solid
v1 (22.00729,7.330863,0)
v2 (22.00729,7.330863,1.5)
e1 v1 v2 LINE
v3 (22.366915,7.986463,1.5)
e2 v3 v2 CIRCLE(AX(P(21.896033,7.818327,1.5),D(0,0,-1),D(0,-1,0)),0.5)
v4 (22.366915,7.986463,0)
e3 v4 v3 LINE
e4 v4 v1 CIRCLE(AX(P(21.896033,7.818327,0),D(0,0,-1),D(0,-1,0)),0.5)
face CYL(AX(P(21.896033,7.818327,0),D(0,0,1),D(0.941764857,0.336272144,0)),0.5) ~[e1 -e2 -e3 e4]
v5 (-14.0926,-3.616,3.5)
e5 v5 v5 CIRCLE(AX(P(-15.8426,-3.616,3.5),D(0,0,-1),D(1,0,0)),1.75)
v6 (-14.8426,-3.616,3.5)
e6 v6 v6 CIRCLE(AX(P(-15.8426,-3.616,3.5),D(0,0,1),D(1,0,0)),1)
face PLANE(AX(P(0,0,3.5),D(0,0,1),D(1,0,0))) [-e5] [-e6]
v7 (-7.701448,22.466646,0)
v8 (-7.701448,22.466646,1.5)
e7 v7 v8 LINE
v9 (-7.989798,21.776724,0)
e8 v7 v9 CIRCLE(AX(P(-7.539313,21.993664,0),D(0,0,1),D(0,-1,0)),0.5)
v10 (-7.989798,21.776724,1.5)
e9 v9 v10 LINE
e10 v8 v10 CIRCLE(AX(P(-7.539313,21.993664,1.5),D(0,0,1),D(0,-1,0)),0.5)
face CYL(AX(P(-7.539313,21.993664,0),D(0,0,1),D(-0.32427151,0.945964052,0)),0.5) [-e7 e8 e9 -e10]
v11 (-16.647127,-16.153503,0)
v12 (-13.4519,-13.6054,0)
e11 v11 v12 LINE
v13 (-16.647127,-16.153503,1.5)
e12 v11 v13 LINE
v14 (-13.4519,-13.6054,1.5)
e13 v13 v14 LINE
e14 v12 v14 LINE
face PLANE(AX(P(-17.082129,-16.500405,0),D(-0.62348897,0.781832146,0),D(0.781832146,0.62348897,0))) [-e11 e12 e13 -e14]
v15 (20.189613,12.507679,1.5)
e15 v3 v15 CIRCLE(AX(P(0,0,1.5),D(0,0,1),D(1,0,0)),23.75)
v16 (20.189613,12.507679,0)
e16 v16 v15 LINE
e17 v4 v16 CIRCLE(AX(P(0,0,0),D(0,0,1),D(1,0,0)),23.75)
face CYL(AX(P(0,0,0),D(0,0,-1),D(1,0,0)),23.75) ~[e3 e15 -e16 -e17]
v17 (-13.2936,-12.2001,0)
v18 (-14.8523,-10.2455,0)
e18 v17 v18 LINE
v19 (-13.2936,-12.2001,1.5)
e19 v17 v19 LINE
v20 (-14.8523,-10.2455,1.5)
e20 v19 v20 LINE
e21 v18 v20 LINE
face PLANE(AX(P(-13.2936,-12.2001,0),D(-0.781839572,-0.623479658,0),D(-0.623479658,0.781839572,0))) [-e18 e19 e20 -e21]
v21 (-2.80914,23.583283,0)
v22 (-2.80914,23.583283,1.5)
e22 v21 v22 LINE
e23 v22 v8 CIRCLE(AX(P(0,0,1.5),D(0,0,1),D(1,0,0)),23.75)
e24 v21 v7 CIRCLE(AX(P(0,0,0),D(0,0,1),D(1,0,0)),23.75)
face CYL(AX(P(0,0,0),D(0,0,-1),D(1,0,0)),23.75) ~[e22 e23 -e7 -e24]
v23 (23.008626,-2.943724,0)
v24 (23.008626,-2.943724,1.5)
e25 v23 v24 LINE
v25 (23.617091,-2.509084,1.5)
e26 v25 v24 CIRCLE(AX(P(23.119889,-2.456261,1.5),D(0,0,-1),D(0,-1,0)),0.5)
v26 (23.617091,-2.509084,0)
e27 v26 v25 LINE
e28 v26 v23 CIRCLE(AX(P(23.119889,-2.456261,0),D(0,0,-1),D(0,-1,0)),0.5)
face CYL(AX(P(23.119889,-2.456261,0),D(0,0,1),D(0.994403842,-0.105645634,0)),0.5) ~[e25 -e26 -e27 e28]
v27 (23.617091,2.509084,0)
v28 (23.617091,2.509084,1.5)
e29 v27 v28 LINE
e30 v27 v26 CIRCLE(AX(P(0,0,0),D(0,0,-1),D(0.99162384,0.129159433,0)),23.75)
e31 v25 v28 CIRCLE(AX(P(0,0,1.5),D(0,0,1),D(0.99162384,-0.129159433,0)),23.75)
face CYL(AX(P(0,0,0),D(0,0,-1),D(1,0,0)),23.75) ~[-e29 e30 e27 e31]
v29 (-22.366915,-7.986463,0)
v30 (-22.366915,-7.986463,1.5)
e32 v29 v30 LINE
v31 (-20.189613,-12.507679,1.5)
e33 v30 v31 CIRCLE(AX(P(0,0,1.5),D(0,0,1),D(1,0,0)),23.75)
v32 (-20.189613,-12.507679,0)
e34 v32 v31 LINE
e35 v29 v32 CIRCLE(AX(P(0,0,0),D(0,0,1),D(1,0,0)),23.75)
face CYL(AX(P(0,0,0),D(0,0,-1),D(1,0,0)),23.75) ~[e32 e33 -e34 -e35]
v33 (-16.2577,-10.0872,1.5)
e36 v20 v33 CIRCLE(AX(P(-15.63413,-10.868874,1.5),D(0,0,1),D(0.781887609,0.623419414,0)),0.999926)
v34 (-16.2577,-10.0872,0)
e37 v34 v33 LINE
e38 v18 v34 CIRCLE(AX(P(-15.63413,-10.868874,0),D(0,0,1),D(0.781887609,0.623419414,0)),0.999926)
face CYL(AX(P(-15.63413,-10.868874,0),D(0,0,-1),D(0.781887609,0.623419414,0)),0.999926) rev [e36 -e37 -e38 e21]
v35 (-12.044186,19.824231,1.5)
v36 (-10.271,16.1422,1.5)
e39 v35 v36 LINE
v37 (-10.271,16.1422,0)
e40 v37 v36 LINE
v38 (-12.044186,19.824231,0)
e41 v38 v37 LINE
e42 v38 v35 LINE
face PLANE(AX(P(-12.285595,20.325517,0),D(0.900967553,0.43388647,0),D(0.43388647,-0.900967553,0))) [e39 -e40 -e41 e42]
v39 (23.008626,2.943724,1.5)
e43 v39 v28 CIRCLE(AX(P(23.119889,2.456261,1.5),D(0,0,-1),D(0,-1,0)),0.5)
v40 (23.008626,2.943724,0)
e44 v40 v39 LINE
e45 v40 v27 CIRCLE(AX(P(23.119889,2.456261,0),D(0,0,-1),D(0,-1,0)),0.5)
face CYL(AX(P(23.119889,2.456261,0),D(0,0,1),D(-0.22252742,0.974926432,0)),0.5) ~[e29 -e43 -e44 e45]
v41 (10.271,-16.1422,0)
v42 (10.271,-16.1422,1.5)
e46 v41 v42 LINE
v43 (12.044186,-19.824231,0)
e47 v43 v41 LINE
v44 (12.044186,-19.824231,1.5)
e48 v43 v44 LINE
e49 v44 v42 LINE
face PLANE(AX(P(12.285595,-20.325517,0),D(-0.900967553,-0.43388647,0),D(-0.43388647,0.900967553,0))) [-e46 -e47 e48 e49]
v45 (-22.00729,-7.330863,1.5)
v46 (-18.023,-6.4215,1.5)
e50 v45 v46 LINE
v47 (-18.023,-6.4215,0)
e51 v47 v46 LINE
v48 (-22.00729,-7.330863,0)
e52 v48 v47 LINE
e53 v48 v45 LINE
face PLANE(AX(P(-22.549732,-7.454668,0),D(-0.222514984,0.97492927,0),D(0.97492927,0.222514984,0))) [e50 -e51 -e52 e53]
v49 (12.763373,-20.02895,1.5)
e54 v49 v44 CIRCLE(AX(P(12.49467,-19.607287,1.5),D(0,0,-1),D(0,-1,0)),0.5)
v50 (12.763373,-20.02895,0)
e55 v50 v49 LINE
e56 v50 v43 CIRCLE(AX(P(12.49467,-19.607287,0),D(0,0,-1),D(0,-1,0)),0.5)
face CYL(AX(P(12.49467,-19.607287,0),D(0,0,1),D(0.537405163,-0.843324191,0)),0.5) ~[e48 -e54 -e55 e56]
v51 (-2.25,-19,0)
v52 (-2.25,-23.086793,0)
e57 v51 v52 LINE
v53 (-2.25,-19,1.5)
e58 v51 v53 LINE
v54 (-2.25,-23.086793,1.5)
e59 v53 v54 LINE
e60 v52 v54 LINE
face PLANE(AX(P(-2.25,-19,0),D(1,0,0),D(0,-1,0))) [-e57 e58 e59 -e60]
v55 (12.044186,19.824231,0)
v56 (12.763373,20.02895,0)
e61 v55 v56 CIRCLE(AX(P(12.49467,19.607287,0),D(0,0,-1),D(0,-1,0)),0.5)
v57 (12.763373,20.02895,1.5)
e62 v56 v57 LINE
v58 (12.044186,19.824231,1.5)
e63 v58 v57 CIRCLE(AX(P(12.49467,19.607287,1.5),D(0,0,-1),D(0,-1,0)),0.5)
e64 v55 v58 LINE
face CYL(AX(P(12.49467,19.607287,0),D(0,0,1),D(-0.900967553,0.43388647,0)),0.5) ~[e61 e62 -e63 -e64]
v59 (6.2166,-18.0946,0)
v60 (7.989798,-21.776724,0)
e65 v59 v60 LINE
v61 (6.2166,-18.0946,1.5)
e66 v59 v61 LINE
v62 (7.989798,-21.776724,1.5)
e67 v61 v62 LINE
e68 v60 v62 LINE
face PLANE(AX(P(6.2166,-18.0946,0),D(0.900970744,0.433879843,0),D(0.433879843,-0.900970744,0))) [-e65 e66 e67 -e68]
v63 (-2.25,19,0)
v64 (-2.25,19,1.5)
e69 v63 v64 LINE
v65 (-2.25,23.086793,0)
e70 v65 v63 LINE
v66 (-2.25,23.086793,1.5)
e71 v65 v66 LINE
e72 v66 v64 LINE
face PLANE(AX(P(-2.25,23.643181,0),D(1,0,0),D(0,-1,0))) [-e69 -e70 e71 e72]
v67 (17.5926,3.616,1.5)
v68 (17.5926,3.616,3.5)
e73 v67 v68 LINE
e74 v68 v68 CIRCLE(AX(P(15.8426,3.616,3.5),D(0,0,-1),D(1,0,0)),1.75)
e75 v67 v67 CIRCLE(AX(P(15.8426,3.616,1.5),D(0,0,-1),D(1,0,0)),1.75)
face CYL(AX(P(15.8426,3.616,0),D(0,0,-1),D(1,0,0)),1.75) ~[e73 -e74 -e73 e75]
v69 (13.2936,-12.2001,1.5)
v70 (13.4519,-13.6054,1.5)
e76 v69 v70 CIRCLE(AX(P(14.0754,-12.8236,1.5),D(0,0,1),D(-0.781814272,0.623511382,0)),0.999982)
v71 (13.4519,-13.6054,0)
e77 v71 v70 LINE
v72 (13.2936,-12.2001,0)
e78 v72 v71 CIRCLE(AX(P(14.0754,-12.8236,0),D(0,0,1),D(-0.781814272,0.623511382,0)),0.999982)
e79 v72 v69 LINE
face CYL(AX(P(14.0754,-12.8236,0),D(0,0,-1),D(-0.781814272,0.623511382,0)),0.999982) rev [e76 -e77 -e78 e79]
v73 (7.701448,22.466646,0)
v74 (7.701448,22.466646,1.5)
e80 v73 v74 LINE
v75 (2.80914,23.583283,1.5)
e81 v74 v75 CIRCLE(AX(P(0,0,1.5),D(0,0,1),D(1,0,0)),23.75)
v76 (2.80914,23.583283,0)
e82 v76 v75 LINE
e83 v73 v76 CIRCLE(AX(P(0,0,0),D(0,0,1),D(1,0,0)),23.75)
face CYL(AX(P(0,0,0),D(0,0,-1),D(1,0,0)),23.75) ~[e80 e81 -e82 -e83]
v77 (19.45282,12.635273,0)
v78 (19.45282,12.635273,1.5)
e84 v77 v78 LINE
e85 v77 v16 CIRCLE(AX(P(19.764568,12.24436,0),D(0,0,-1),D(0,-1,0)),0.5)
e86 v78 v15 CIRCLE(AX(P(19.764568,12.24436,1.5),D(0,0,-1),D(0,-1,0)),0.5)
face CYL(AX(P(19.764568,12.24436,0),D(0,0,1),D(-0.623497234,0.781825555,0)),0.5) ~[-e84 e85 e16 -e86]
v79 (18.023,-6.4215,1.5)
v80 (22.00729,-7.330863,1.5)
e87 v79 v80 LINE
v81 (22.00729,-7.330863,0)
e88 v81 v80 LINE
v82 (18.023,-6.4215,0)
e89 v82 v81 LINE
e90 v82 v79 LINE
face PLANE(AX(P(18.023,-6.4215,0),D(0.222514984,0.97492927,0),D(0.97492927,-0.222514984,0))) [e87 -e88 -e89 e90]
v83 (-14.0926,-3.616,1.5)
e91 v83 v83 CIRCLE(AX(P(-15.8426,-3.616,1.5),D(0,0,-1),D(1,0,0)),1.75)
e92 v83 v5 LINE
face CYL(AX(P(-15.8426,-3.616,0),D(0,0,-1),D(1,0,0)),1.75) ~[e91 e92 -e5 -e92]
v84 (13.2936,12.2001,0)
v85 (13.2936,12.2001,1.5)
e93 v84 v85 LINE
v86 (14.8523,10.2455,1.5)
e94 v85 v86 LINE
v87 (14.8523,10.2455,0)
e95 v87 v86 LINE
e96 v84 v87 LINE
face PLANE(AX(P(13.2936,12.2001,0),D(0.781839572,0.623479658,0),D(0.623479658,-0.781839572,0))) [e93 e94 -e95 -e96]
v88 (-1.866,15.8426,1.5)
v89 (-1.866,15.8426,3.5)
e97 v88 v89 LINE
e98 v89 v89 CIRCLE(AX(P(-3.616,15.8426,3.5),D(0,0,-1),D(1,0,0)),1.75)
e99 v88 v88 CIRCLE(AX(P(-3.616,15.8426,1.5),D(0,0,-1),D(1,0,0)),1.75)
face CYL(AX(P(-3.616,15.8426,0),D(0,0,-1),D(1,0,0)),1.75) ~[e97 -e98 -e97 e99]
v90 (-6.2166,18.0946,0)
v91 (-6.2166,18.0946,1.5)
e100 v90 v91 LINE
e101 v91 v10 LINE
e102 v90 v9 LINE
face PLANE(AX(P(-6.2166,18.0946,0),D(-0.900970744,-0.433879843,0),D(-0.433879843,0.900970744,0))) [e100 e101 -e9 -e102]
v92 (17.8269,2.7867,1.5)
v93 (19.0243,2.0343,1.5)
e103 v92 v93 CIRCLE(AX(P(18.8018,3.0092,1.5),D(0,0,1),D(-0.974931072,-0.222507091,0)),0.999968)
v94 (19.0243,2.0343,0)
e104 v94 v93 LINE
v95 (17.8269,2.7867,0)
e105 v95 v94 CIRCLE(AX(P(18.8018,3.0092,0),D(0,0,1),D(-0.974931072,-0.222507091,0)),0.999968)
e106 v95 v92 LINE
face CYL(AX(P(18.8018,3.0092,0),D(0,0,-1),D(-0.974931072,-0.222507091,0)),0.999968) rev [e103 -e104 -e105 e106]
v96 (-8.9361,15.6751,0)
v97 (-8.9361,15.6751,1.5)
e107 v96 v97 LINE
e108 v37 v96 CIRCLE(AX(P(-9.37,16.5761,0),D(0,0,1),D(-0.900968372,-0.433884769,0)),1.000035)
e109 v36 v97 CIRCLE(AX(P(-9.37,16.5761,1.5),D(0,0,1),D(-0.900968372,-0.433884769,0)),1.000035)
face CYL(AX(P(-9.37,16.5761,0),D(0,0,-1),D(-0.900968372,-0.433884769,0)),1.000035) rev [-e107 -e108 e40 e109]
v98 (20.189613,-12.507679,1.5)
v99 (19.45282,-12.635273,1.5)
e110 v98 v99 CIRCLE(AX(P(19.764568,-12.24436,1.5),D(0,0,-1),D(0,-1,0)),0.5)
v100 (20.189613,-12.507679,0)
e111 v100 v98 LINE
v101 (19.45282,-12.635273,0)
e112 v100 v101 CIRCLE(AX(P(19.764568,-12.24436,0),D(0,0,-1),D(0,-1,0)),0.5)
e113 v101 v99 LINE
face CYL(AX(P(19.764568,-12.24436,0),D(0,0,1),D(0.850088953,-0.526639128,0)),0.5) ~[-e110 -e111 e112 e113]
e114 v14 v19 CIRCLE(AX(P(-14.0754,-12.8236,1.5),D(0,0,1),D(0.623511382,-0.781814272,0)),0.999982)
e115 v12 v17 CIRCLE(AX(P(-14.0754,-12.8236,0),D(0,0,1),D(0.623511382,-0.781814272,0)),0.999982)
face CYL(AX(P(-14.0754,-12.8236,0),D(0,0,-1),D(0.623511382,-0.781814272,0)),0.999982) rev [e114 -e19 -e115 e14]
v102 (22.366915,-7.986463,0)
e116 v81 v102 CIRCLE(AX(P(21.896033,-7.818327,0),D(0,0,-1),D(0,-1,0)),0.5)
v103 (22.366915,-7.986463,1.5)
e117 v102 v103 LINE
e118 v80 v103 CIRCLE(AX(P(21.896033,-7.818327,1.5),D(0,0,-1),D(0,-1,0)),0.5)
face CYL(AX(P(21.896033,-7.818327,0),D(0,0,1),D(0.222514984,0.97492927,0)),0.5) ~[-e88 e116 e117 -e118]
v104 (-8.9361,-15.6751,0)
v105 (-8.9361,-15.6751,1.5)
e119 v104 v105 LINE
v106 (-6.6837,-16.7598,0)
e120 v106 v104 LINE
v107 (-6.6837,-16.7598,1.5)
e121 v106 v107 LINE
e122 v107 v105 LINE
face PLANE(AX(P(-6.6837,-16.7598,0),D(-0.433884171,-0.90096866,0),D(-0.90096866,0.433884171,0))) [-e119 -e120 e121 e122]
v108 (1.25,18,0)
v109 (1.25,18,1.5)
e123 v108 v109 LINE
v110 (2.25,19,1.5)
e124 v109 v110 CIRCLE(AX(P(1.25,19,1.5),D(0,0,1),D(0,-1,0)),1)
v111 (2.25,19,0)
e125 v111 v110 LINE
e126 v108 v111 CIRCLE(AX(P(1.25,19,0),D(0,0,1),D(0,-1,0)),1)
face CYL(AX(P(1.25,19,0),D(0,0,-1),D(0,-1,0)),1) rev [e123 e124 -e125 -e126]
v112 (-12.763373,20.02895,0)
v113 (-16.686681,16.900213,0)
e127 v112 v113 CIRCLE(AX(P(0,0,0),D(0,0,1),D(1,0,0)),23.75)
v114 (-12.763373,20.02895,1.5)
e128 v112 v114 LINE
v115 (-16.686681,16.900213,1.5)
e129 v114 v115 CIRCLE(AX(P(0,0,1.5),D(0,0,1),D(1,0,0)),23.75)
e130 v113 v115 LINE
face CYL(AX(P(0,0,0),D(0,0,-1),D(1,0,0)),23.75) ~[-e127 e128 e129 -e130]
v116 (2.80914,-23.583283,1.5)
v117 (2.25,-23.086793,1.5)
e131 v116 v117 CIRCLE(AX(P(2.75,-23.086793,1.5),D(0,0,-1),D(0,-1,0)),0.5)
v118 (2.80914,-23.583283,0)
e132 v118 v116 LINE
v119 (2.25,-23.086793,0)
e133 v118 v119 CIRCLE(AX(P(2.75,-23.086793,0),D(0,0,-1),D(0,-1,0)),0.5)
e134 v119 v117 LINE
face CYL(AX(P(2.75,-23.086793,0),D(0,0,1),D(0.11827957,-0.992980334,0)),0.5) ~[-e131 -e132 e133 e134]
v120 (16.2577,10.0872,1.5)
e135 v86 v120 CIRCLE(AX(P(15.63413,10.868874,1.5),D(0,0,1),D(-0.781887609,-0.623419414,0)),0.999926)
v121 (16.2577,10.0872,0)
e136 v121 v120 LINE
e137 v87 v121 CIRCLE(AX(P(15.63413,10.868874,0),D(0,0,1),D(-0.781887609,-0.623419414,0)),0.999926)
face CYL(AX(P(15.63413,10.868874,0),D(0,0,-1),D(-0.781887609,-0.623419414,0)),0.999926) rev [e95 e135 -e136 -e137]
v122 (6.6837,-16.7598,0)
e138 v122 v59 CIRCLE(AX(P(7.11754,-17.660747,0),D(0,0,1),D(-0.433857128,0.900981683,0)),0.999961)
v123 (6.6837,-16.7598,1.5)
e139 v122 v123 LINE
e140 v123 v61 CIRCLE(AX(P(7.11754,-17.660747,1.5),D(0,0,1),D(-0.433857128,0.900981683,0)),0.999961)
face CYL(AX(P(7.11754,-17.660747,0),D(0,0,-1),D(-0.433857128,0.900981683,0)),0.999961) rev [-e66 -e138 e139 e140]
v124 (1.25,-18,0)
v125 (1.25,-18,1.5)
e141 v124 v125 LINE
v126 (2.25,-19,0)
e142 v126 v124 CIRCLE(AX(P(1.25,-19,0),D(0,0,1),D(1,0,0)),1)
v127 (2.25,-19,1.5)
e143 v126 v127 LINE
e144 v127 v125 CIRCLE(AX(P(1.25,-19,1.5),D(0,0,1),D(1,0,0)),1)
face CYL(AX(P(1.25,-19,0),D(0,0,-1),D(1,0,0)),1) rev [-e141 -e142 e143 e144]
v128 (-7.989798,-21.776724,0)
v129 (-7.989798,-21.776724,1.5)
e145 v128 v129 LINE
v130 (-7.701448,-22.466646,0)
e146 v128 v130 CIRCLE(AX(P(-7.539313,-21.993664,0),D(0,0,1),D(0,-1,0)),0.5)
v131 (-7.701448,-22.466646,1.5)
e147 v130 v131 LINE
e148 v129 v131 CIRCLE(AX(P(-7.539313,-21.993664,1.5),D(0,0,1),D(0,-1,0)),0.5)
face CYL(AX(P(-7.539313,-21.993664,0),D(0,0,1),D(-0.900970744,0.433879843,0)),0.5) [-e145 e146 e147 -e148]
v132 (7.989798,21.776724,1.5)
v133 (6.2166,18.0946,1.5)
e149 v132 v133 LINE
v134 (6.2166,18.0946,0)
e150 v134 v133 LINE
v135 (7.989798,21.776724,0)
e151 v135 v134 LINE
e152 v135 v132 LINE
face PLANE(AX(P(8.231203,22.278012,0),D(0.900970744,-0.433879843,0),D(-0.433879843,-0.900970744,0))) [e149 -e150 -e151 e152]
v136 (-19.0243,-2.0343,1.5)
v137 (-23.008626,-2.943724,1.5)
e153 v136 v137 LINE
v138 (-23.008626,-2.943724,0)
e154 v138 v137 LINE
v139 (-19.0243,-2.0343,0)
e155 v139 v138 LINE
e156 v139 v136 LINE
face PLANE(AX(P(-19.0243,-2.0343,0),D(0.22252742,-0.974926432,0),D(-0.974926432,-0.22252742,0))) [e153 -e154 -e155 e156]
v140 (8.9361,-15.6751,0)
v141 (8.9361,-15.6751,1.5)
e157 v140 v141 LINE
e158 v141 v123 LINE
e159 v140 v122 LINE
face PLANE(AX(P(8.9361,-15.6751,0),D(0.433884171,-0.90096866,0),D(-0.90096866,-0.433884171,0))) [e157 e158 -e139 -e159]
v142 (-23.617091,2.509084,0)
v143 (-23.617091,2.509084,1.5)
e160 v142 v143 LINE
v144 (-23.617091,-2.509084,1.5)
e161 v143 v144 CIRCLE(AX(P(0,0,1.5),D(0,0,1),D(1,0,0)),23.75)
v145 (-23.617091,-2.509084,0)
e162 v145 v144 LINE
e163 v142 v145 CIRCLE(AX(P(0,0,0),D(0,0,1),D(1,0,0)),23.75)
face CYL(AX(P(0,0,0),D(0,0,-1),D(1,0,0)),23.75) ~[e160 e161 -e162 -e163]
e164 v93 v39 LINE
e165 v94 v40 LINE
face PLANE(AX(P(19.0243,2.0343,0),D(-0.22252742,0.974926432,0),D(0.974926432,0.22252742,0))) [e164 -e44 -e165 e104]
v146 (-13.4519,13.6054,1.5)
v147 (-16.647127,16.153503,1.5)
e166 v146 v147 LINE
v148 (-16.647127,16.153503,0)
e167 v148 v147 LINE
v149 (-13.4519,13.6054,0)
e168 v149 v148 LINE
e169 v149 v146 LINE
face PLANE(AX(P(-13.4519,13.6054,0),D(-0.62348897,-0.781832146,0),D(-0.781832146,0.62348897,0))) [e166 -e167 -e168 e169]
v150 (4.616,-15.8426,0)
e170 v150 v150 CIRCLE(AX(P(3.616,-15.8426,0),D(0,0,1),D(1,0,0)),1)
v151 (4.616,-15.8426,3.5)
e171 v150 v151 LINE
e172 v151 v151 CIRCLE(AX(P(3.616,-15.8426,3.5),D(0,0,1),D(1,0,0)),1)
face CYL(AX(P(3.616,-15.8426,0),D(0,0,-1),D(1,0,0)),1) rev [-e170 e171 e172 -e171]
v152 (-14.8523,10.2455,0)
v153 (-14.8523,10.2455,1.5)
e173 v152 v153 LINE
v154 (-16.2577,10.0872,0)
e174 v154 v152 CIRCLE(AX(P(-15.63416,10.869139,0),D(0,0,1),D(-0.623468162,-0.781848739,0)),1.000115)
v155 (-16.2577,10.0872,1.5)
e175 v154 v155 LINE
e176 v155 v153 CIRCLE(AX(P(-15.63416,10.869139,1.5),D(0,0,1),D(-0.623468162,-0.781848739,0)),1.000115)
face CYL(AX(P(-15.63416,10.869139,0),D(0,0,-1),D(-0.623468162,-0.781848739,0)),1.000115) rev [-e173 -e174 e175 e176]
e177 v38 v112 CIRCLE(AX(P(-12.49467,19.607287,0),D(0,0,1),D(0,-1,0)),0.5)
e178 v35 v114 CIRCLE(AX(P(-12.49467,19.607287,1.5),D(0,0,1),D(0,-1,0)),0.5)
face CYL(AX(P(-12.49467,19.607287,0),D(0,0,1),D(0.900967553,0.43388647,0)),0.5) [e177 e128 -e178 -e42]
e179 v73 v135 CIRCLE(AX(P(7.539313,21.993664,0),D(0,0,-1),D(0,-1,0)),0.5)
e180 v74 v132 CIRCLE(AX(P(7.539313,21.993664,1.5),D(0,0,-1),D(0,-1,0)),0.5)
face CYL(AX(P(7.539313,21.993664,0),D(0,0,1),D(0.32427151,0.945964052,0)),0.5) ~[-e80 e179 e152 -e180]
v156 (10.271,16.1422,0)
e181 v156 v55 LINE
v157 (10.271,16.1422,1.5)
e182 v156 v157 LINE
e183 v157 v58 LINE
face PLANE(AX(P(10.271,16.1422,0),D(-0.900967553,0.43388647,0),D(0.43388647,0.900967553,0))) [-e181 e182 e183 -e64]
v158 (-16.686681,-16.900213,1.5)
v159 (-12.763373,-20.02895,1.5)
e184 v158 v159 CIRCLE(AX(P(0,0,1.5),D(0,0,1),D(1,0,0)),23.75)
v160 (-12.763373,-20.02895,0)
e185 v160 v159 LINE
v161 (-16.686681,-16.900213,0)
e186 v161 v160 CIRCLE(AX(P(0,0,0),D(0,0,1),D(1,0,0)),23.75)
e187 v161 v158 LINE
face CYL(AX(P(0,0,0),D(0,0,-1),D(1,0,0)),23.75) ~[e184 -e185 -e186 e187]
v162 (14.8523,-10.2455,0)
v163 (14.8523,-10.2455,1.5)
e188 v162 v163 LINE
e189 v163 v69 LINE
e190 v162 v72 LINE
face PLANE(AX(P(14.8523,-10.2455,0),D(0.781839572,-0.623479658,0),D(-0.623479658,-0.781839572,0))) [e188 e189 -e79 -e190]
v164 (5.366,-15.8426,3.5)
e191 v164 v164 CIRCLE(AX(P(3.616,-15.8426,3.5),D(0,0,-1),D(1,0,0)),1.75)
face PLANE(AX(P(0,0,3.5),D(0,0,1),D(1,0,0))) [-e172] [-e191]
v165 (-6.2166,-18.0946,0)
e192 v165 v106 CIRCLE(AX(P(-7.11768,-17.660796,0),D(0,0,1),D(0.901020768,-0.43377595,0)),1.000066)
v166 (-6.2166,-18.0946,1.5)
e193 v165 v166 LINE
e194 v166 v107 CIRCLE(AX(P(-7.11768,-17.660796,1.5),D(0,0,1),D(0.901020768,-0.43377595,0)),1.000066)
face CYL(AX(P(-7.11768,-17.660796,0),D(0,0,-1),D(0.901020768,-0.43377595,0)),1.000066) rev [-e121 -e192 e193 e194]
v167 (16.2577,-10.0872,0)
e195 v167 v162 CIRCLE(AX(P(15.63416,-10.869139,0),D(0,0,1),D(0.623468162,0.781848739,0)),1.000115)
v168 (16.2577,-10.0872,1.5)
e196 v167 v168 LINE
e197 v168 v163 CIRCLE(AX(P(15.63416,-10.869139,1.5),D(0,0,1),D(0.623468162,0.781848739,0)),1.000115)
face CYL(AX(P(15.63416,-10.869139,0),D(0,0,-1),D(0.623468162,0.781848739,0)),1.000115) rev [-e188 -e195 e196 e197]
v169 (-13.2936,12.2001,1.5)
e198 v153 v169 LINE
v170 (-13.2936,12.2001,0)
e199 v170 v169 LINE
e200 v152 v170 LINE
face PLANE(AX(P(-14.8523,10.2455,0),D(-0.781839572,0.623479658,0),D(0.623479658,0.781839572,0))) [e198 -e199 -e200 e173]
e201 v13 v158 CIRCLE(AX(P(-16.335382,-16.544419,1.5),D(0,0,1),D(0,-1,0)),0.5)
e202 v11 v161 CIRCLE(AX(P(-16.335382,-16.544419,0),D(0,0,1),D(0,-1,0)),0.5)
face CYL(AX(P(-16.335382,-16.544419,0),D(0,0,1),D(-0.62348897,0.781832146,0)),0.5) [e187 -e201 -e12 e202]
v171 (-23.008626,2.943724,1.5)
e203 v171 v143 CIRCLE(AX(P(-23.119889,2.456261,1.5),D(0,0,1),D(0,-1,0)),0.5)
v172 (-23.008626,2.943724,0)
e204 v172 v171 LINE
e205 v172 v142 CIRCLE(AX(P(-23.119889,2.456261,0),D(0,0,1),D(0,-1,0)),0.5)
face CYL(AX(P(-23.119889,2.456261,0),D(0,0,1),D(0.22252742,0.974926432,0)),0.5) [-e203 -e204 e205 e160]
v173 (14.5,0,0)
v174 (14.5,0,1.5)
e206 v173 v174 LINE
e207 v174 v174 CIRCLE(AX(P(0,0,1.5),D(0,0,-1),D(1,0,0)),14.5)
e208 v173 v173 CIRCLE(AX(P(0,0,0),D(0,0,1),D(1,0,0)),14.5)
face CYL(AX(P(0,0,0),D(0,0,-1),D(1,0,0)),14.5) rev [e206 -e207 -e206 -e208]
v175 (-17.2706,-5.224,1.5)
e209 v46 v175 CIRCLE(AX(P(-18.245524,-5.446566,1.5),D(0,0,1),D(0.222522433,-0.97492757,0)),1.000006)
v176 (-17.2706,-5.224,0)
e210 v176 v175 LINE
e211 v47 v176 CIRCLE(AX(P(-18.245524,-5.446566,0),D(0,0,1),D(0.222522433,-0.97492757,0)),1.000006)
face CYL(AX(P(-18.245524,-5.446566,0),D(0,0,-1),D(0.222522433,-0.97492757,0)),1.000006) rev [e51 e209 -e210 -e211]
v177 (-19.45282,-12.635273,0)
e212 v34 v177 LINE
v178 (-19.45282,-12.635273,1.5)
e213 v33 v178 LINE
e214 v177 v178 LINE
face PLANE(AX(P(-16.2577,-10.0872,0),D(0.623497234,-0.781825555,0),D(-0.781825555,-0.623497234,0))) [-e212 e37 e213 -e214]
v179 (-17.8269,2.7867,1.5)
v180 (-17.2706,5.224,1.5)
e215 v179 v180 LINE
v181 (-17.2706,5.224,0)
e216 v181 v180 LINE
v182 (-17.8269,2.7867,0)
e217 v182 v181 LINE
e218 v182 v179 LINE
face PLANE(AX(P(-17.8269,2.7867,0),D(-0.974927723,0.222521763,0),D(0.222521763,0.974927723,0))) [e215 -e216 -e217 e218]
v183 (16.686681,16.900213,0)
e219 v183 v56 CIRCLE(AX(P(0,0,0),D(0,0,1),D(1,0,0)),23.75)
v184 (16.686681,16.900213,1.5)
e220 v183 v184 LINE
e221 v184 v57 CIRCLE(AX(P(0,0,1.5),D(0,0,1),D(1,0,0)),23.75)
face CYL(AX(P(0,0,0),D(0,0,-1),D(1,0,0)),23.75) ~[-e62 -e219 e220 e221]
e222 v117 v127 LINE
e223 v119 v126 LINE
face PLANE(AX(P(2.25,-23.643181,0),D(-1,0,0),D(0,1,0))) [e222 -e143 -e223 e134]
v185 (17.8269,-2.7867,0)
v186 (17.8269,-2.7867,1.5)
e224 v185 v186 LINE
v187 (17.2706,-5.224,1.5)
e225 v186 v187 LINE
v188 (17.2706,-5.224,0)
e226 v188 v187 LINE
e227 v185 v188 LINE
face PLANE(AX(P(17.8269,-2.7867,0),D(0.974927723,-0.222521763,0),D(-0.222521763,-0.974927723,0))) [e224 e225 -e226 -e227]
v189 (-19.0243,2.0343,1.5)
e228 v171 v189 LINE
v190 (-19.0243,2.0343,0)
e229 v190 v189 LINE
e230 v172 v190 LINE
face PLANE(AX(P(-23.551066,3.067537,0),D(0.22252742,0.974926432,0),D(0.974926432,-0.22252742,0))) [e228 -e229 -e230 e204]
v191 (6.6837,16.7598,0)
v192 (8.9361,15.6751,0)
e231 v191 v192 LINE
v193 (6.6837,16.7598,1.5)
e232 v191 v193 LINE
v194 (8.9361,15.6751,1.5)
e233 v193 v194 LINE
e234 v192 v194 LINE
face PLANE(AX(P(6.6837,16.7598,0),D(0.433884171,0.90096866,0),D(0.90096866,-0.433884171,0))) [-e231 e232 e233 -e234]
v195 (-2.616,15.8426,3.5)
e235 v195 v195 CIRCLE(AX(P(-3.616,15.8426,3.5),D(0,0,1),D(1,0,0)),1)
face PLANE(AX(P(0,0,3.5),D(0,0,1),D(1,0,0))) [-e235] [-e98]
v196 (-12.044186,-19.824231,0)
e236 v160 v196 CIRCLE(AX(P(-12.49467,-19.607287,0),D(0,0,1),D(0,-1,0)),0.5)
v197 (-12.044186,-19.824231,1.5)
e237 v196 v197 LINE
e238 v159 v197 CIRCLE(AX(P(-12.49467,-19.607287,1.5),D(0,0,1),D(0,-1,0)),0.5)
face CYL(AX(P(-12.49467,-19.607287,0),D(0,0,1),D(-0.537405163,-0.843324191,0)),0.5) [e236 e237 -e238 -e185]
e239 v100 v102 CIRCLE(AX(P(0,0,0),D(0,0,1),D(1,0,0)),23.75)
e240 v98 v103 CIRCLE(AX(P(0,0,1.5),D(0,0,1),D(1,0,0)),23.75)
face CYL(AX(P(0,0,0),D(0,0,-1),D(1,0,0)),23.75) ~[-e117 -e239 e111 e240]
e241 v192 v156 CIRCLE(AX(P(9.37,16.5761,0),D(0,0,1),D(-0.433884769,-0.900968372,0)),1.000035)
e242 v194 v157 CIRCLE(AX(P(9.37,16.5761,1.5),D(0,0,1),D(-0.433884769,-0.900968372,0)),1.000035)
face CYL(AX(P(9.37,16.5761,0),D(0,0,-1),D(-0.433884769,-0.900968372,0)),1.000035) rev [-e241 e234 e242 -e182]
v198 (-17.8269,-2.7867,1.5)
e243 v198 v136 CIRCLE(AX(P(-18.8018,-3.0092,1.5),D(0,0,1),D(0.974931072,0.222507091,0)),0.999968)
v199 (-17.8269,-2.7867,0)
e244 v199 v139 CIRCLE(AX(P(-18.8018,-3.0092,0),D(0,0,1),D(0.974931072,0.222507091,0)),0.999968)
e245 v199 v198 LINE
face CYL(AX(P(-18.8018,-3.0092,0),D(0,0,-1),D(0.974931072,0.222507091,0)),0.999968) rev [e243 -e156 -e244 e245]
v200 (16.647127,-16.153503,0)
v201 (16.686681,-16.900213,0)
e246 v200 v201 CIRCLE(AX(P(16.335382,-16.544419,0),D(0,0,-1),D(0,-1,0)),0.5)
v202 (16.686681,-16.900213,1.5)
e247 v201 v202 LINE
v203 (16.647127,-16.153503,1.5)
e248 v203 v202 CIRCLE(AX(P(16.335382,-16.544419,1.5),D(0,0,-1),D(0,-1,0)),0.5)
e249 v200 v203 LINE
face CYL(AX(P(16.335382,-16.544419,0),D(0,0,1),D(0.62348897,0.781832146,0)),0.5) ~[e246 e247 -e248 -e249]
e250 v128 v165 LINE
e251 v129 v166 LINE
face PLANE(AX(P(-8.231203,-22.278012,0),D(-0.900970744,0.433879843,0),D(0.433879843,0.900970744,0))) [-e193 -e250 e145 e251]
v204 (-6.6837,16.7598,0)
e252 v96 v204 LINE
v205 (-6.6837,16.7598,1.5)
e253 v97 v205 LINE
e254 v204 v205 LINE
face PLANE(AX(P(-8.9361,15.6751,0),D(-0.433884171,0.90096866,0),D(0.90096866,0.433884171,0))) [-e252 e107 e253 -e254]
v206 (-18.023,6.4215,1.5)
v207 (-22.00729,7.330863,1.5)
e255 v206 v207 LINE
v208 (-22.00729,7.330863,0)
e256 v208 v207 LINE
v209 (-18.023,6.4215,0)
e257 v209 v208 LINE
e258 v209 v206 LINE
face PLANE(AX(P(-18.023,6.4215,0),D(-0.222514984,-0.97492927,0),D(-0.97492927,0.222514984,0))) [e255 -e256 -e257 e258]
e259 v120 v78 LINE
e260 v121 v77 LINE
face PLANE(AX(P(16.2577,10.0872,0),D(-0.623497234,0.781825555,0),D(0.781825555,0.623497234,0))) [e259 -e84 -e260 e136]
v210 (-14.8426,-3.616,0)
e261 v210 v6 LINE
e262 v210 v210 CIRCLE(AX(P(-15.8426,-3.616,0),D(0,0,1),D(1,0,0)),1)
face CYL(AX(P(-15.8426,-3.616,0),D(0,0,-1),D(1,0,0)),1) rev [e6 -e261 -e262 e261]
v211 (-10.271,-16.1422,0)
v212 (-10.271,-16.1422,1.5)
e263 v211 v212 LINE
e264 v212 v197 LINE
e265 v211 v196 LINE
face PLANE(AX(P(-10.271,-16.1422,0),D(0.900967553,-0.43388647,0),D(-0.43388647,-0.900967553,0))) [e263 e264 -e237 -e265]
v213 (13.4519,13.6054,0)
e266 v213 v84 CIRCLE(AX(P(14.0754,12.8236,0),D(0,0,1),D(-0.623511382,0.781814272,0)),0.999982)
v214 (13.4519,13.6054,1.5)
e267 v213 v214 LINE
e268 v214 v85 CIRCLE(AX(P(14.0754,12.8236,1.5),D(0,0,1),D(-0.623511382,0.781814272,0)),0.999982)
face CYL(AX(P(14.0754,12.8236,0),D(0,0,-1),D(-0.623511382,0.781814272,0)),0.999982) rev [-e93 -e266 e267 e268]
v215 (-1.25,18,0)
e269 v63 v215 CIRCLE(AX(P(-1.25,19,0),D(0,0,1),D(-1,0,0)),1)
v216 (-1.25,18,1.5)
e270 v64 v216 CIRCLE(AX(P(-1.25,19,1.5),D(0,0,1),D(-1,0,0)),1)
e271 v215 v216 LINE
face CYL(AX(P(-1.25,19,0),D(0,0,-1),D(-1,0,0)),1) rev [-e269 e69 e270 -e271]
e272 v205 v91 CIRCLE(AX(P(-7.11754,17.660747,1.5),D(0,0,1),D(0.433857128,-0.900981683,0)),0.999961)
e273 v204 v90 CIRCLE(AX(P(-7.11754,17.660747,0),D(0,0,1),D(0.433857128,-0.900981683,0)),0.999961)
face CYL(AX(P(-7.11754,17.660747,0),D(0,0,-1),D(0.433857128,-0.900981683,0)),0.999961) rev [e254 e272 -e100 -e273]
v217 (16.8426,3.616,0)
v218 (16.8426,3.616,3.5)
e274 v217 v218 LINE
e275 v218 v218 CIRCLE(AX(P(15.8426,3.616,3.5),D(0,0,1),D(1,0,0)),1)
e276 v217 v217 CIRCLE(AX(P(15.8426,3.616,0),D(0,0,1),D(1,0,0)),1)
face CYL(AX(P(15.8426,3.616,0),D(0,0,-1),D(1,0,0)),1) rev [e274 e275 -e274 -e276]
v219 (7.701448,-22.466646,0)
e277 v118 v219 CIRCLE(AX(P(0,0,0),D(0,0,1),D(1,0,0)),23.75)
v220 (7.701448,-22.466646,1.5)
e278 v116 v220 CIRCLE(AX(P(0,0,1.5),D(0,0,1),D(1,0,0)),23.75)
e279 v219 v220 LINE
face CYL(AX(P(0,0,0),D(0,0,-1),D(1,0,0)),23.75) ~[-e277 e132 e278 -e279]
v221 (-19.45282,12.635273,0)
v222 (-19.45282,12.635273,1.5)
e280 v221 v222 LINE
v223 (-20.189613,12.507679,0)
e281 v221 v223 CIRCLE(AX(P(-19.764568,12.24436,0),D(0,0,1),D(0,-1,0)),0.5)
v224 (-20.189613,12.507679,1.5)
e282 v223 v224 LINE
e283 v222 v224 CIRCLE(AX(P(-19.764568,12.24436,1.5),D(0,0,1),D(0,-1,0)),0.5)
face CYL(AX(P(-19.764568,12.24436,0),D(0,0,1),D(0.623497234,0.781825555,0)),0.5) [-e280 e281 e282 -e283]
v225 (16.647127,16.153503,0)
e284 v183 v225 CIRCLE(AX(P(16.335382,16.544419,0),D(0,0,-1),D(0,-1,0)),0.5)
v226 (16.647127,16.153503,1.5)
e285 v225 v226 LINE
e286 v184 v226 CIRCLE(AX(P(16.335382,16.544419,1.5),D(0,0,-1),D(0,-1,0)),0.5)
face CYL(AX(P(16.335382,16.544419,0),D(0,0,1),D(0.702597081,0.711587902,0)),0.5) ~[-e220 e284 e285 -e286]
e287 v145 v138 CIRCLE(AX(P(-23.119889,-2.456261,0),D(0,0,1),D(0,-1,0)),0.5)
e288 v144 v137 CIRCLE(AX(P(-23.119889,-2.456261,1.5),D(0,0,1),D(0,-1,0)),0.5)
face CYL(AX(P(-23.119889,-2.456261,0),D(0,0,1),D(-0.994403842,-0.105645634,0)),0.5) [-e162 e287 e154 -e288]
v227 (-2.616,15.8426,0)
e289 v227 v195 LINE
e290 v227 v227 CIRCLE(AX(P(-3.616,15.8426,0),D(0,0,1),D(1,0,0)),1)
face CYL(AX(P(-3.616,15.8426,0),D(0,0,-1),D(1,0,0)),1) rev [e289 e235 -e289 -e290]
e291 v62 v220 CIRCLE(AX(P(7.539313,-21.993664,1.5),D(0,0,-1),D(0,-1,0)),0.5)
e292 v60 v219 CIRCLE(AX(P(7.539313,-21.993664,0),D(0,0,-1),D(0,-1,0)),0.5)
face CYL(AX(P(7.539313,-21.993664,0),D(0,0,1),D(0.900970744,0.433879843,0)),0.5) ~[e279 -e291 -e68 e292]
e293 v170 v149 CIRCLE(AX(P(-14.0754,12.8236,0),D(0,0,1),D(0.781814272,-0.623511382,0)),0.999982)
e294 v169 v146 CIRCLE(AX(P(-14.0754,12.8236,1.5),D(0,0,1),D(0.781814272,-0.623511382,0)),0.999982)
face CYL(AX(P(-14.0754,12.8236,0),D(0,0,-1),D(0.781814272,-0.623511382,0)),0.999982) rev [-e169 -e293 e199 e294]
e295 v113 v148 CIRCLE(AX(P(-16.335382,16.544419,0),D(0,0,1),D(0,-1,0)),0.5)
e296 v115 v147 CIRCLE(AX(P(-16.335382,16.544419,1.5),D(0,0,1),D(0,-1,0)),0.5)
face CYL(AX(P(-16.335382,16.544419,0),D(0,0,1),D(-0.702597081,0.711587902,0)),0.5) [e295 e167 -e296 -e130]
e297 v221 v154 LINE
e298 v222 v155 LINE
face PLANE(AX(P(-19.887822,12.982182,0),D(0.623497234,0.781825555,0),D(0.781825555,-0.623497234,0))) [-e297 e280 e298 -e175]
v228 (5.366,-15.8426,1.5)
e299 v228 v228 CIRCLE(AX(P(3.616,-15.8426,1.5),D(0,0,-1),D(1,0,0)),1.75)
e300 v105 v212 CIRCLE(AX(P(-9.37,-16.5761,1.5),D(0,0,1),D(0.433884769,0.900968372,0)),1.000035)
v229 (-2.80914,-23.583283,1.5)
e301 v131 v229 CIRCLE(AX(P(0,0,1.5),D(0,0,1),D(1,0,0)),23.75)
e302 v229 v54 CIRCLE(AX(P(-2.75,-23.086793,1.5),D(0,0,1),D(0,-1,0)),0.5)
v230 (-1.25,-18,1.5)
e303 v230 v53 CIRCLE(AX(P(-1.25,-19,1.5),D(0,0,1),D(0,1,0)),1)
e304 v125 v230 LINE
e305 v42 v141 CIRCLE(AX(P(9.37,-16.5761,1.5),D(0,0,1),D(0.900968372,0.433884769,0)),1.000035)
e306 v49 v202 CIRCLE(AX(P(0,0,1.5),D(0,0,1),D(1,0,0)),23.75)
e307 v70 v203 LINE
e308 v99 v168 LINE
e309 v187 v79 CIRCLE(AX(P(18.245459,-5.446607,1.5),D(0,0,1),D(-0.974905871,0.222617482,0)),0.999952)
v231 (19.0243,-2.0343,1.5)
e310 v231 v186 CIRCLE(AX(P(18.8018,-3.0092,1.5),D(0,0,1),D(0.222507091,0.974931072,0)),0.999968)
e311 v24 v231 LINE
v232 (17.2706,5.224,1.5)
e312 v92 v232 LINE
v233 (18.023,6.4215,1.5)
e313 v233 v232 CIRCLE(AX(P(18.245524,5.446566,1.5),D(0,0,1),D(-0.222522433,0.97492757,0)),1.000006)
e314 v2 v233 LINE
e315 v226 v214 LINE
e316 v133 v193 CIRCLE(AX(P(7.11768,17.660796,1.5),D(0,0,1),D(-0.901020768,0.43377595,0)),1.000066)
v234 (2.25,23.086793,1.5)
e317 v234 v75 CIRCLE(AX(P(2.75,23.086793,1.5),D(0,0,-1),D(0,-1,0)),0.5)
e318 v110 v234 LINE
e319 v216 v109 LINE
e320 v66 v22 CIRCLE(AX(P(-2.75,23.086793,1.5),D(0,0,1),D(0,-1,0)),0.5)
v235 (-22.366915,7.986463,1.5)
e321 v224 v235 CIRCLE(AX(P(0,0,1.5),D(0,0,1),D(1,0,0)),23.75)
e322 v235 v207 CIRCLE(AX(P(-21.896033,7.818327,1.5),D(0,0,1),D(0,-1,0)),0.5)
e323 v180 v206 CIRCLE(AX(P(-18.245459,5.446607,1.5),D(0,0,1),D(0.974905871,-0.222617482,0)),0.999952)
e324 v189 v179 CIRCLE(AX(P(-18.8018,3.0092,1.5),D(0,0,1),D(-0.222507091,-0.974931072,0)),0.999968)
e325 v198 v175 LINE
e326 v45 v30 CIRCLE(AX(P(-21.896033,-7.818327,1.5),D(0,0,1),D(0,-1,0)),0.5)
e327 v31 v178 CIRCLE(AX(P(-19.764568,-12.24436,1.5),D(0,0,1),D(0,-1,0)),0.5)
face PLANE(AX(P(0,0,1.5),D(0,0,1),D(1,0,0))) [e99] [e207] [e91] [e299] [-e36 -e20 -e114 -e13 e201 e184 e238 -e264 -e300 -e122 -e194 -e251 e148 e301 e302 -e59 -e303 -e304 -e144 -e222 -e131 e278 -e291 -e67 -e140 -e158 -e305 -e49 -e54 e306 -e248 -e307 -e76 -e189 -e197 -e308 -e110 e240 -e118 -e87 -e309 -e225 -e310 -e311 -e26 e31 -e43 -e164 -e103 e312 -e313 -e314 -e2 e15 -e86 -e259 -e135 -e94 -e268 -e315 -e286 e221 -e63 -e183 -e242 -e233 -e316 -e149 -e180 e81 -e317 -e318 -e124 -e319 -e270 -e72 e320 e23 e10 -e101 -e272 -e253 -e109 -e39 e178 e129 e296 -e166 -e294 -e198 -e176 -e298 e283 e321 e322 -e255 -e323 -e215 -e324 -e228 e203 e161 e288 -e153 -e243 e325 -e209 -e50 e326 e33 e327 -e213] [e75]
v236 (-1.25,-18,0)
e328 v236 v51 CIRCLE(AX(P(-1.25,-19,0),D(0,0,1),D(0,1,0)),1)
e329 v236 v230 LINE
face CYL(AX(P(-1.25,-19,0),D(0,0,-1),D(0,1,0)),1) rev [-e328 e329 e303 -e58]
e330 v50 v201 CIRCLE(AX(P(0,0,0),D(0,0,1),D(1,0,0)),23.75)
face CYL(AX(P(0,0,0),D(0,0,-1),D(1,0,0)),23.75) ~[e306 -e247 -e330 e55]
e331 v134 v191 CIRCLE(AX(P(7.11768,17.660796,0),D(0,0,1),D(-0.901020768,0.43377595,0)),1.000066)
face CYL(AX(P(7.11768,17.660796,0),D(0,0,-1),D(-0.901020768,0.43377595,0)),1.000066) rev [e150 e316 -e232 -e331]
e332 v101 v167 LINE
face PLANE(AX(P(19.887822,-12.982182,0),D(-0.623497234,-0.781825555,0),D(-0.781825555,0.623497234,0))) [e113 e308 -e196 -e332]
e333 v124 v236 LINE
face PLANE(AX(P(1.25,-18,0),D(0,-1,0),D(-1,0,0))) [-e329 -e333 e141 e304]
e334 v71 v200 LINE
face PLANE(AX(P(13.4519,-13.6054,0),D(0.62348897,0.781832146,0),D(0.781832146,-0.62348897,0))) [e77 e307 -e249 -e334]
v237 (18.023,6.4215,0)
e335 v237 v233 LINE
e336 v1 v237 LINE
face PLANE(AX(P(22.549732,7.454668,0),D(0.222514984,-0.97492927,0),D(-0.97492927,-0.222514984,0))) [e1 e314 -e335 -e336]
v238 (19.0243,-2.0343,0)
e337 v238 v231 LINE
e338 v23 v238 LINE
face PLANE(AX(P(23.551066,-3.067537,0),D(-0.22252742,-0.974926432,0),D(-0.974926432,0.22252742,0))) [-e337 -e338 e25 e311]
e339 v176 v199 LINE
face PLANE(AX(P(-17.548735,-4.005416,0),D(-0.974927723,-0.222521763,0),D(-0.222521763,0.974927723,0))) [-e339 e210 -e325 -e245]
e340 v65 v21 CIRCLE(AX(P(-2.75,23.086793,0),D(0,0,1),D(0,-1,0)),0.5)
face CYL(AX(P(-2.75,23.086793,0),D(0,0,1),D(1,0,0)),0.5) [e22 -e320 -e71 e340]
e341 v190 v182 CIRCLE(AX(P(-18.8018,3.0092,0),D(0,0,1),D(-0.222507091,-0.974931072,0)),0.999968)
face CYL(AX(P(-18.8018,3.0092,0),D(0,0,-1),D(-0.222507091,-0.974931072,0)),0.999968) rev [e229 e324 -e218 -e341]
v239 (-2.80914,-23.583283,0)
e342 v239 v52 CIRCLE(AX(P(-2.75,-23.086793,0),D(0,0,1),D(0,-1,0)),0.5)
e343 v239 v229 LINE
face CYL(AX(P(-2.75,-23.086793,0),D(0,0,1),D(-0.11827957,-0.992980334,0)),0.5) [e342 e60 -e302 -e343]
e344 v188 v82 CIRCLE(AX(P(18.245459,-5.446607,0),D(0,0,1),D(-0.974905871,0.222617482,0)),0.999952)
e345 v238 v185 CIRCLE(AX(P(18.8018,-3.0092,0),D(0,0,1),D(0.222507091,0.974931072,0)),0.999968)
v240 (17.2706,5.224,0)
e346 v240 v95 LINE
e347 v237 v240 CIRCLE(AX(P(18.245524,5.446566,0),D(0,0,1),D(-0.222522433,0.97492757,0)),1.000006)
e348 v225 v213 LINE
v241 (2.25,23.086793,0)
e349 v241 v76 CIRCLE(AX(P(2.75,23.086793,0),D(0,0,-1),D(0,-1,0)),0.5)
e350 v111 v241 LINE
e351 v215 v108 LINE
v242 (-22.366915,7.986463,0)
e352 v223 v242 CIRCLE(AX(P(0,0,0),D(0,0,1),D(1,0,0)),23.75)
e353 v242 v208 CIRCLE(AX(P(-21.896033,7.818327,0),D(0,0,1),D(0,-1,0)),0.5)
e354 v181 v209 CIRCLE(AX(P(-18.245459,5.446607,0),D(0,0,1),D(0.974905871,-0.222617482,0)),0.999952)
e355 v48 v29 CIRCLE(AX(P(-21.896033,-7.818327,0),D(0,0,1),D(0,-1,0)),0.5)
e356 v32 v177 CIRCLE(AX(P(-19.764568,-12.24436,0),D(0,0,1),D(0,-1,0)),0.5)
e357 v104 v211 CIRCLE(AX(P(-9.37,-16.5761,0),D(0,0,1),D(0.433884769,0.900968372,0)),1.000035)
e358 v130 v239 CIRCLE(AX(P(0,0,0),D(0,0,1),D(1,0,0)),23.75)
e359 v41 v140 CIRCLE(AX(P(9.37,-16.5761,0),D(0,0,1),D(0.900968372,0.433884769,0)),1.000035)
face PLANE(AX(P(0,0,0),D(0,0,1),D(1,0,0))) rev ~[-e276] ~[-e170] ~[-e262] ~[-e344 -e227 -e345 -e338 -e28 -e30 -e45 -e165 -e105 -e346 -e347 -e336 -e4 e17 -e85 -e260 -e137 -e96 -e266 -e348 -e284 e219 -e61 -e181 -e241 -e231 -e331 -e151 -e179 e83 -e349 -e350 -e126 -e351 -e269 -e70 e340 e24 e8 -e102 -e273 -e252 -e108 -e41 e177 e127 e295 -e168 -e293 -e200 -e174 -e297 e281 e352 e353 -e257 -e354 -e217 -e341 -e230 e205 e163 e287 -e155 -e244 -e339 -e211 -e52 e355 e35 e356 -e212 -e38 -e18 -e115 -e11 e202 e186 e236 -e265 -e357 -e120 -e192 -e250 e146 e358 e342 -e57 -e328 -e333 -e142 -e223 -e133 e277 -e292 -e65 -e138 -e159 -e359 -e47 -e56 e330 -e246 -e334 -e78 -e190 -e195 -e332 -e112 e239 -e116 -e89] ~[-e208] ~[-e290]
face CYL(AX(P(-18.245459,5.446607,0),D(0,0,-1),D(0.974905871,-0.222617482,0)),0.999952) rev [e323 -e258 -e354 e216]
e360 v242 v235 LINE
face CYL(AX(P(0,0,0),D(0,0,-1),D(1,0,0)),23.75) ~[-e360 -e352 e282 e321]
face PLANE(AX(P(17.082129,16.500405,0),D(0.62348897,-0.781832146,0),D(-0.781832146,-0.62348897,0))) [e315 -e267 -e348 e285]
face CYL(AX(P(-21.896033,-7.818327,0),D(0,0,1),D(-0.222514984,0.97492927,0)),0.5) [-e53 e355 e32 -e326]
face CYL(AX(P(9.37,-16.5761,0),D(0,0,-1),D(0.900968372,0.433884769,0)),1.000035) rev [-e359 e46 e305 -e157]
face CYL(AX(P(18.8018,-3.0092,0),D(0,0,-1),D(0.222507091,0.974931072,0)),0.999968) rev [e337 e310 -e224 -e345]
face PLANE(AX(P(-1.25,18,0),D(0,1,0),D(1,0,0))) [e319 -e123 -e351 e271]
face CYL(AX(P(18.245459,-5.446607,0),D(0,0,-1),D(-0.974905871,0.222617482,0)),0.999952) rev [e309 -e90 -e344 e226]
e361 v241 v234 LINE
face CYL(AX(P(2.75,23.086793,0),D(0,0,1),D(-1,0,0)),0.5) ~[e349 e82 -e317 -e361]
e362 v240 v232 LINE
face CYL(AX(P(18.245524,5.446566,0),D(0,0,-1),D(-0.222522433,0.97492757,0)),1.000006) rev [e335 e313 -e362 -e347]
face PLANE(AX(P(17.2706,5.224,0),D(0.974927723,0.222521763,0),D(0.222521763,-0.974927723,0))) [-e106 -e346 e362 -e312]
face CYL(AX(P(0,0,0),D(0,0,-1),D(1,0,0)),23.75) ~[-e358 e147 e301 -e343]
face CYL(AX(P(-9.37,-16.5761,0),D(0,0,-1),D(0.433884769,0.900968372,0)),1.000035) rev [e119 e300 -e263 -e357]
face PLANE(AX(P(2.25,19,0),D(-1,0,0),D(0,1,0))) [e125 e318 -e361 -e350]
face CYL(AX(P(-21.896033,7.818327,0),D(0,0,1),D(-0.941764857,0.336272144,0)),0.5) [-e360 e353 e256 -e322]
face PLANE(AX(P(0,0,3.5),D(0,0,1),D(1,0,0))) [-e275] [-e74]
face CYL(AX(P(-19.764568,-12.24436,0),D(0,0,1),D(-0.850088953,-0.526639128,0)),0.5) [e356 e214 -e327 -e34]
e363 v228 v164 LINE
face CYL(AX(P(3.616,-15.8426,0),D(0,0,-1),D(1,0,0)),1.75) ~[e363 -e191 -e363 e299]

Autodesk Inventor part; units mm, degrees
ref_plane "YZ Plane" through (0, 0, 0) normal (1, 0, 0) x (0, 1, 0)
ref_plane "XZ Plane" through (0, 0, 0) normal (0, 1, 0) x (-1, 0, 0)
ref_plane "XY Plane" through (0, 0, 0) normal (0, 0, 1) x (1, 0, 0)
sketch "スケッチ1" plane through (0, 0, 0) normal (0, 0, 1) x (1, 0, 0)
  circle A0 centre (0, 0) radius 25 construction
  line L0 (-2.25, 24.8985) -> (-2.25, 19)
  line L1 (-1.25, 18) -> (1.25, 18)
  line L2 (2.25, 19) -> (2.25, 24.8985)
  line L3 (0, 25) -> (0, 18) construction
  arc A1 (-2.25, 19) -> (-1.25, 18) centre (-1.25, 19) ccw
  arc A2 (1.25, 18) -> (2.25, 19) centre (1.25, 19) ccw
  circle A3 centre (0, 0) radius 23.75
  circle A4 centre (0, 0) radius 17 construction
  line L4 (-3.616, 15.8426) -> (0, 0) construction
  line L5 (0, 0) -> (0, 17) construction
  circle A5 centre (0, 0) radius 14.5
  circle A6 centre (-3.616, 15.8426) radius 1
  circle A7 centre (-3.616, 15.8426) radius 1.75
  circle A8 centre (0, 0) radius 18 construction
  circle A9 centre (-15.8426, -3.616) radius 1.75
  circle A10 centre (-15.8426, -3.616) radius 1
  circle A11 centre (3.616, -15.8426) radius 1.75
  circle A12 centre (3.616, -15.8426) radius 1
  circle A13 centre (15.8426, 3.616) radius 1.75
  circle A14 centre (15.8426, 3.616) radius 1
  line L6 (-12.8303, 21.4566) -> (-10.271, 16.1422)
  line L7 (-6.2166, 18.0946) -> (-8.7759, 23.4091)
  arc A15 (-10.271, 16.1422) -> (-8.9361, 15.6751) centre (-9.37, 16.5761) ccw
  line L8 (-8.9361, 15.6751) -> (-6.6837, 16.7598)
  arc A16 (-6.6837, 16.7598) -> (-6.2166, 18.0946) centre (-7.1176, 17.6608) ccw
  line L9 (-20.8693, 13.7649) -> (-16.2577, 10.0872)
  line L10 (-13.4519, 13.6054) -> (-18.0636, 17.2831)
  arc A17 (-16.2577, 10.0872) -> (-14.8523, 10.2455) centre (-15.6342, 10.869) ccw
  line L11 (-14.8523, 10.2455) -> (-13.2936, 12.2001)
  arc A18 (-13.2936, 12.2001) -> (-13.4519, 13.6054) centre (-14.0754, 12.8236) ccw
  line L12 (-24.775, 3.3469) -> (-19.0243, 2.0343)
  line L13 (-18.023, 6.4215) -> (-23.7736, 7.734)
  arc A19 (-19.0243, 2.0343) -> (-17.8269, 2.7867) centre (-18.8018, 3.0092) ccw
  line L14 (-17.8269, 2.7867) -> (-17.2706, 5.224)
  arc A20 (-17.2706, 5.224) -> (-18.023, 6.4215) centre (-18.2455, 5.4466) ccw
  line L15 (-23.7736, -7.734) -> (-18.023, -6.4215)
  line L16 (-19.0243, -2.0343) -> (-24.775, -3.3469)
  arc A21 (-18.023, -6.4215) -> (-17.2706, -5.224) centre (-18.2455, -5.4466) ccw
  line L17 (-17.2706, -5.224) -> (-17.8269, -2.7867)
  arc A22 (-17.8269, -2.7867) -> (-19.0243, -2.0343) centre (-18.8018, -3.0092) ccw
  line L18 (-18.0636, -17.2831) -> (-13.4519, -13.6054)
  line L19 (-16.2577, -10.0872) -> (-20.8693, -13.7649)
  arc A23 (-13.4519, -13.6054) -> (-13.2936, -12.2001) centre (-14.0754, -12.8236) ccw
  line L20 (-13.2936, -12.2001) -> (-14.8523, -10.2455)
  arc A24 (-14.8523, -10.2455) -> (-16.2577, -10.0872) centre (-15.6342, -10.869) ccw
  line L21 (-8.7759, -23.4091) -> (-6.2166, -18.0946)
  line L22 (-10.271, -16.1422) -> (-12.8303, -21.4566)
  arc A25 (-6.2166, -18.0946) -> (-6.6837, -16.7598) centre (-7.1176, -17.6608) ccw
  line L23 (-6.6837, -16.7598) -> (-8.9361, -15.6751)
  arc A26 (-8.9361, -15.6751) -> (-10.271, -16.1422) centre (-9.37, -16.5761) ccw
  line L24 (2.25, -24.8985) -> (2.25, -19)
  line L25 (-2.25, -19) -> (-2.25, -24.8985)
  arc A27 (2.25, -19) -> (1.25, -18) centre (1.25, -19) ccw
  line L26 (1.25, -18) -> (-1.25, -18)
  arc A28 (-1.25, -18) -> (-2.25, -19) centre (-1.25, -19) ccw
  line L27 (12.8303, -21.4566) -> (10.271, -16.1422)
  line L28 (6.2166, -18.0946) -> (8.7759, -23.4091)
  arc A29 (10.271, -16.1422) -> (8.9361, -15.6751) centre (9.37, -16.5761) ccw
  line L29 (8.9361, -15.6751) -> (6.6837, -16.7598)
  arc A30 (6.6837, -16.7598) -> (6.2166, -18.0946) centre (7.1176, -17.6608) ccw
  line L30 (20.8693, -13.7649) -> (16.2577, -10.0872)
  line L31 (13.4519, -13.6054) -> (18.0636, -17.2831)
  arc A31 (16.2577, -10.0872) -> (14.8523, -10.2455) centre (15.6342, -10.869) ccw
  line L32 (14.8523, -10.2455) -> (13.2936, -12.2001)
  arc A32 (13.2936, -12.2001) -> (13.4519, -13.6054) centre (14.0754, -12.8236) ccw
  line L33 (24.775, -3.3469) -> (19.0243, -2.0343)
  line L34 (18.023, -6.4215) -> (23.7736, -7.734)
  arc A33 (19.0243, -2.0343) -> (17.8269, -2.7867) centre (18.8018, -3.0092) ccw
  line L35 (17.8269, -2.7867) -> (17.2706, -5.224)
  arc A34 (17.2706, -5.224) -> (18.023, -6.4215) centre (18.2455, -5.4466) ccw
  line L36 (23.7736, 7.734) -> (18.023, 6.4215)
  line L37 (19.0243, 2.0343) -> (24.775, 3.3469)
  arc A35 (18.023, 6.4215) -> (17.2706, 5.224) centre (18.2455, 5.4466) ccw
  line L38 (17.2706, 5.224) -> (17.8269, 2.7867)
  arc A36 (17.8269, 2.7867) -> (19.0243, 2.0343) centre (18.8018, 3.0092) ccw
  line L39 (18.0636, 17.2831) -> (13.4519, 13.6054)
  line L40 (16.2577, 10.0872) -> (20.8693, 13.7649)
  arc A37 (13.4519, 13.6054) -> (13.2936, 12.2001) centre (14.0754, 12.8236) ccw
  line L41 (13.2936, 12.2001) -> (14.8523, 10.2455)
  arc A38 (14.8523, 10.2455) -> (16.2577, 10.0872) centre (15.6342, 10.869) ccw
  line L42 (8.7759, 23.4091) -> (6.2166, 18.0946)
  line L43 (10.271, 16.1422) -> (12.8303, 21.4566)
  arc A39 (6.2166, 18.0946) -> (6.6837, 16.7598) centre (7.1176, 17.6608) ccw
  line L44 (6.6837, 16.7598) -> (8.9361, 15.6751)
  arc A40 (8.9361, 15.6751) -> (10.271, 16.1422) centre (9.37, 16.5761) ccw
  point P0 (-2.25, 18)
  point P1 (2.25, 18)
  point P2 (-9.8371, 15.2412)
  point P3 (-5.7827, 17.1937)
  point P4 (-7.8099, 16.2174)
  point P5 (-15.4758, 9.4637)
  point P6 (-12.6701, 12.9819)
  point P7 (-14.073, 11.2228)
  point P8 (-18.0494, 1.8118)
  point P9 (-17.048, 6.199)
  point P10 (-17.5487, 4.0054)
  point P11 (-17.048, -6.199)
  point P12 (-18.0494, -1.8118)
  point P13 (-17.5487, -4.0054)
  point P14 (-12.6701, -12.9819)
  point P15 (-15.4758, -9.4637)
  point P16 (-14.073, -11.2228)
  point P17 (-5.7827, -17.1937)
  point P18 (-9.8371, -15.2412)
  point P19 (-7.8099, -16.2174)
  point P20 (2.25, -18)
  point P21 (-2.25, -18)
  point P22 (0, -18)
  point P23 (9.8371, -15.2412)
  point P24 (5.7827, -17.1937)
  point P25 (7.8099, -16.2174)
  point P26 (15.4758, -9.4637)
  point P27 (12.6701, -12.9819)
  point P28 (14.073, -11.2228)
  point P29 (18.0494, -1.8118)
  point P30 (17.048, -6.199)
  point P31 (17.5487, -4.0054)
  point P32 (17.048, 6.199)
  point P33 (18.0494, 1.8118)
  point P34 (17.5487, 4.0054)
  point P35 (12.6701, 12.9819)
  point P36 (15.4758, 9.4637)
  point P37 (14.073, 11.2228)
  point P38 (5.7827, 17.1937)
  point P39 (9.8371, 15.2412)
  point P40 (7.8099, 16.2174)
  point P41 (-22.5497, -7.4547)
  point P42 (-19.8878, -12.9822)
  point P43 (-17.0821, -16.5004)
  point P44 (-12.2856, -20.3255)
  point P45 (-8.2312, -22.278)
  point P46 (-2.25, -23.6432)
  point P47 (2.25, -23.6432)
  point P48 (8.2312, -22.278)
  point P49 (12.2856, -20.3255)
  point P50 (17.0821, -16.5004)
  point P51 (19.8878, -12.9822)
  point P52 (22.5497, -7.4547)
  point P53 (23.5511, -3.0675)
  point P54 (23.5511, 3.0675)
  point P55 (22.5497, 7.4547)
  point P56 (19.8878, 12.9822)
  point P57 (17.0821, 16.5004)
  point P58 (12.2856, 20.3255)
  point P59 (8.2312, 22.278)
  point P60 (2.25, 23.6432)
  point P61 (-2.25, 23.6432)
  point P62 (-8.2312, 22.278)
  point P63 (-12.2856, 20.3255)
  point P64 (-17.0821, 16.5004)
  point P65 (-19.8878, 12.9822)
  point P66 (-22.5497, 7.4547)
  point P67 (-23.5511, 3.0675)
  point P68 (-23.5511, -3.0675)
  dimension "d13" = 47.5
  dimension "d14" = 34
  dimension "d4" = 50
  dimension "d5" = 4.5
  dimension "d9" = 1
  dimension "d10" = 7
  dimension "d15" = 12.857
  dimension "d16" = 2
  dimension "d17" = 3.5
  dimension "d21" = 360
  dimension "d25" = 360
extrude "押し出し1" add sketch "スケッチ1" along normal blind 1.5 contours A7 | L0 A1 L1 A2 L2 A3 L42 A39 L44 A40 L43 L39 A37 L41 A38 L40 L36 A35 L38 A13 A5 A9 L17 A22 L16 L12 A19 L14 A20 L13 L9 A17 L11 A18 L10 L6 A15 L8 A16 L7 | A11 | A3 L33 A33 L35 A34 L34 L30 A31 L32 A32 L31 L27 A29 L29 A30 L28 L24 A27 L26 A28 L25 L21 A25 L23 A26 L22 L18 A23 L20 A24 L19 L15 A21 L17 A9 A5 A13 L38 A36 L37 | A13 | A9
extrude "押し出し2" add sketch "スケッチ1" along normal blind 3.5 contours A7 | A11 | A13 | A9
fillet "フィレット1" radius 0.5 28 edges at (-22.5497, -7.4547, 0.75) (-23.5511, -3.0675, 0.75) (-23.5511, 3.0675, 0.75) (-22.5497, 7.4547, 0.75) (-19.8878, 12.9822, 0.75) (-17.0821, 16.5004, 0.75) (-12.2856, 20.3255, 0.75) (-8.2312, 22.278, 0.75) (-2.25, 23.6432, 0.75) (2.25, 23.6432, 0.75) (8.2312, 22.278, 0.75) (12.2856, 20.3255, 0.75) (17.0821, 16.5004, 0.75) (19.8878, 12.9822, 0.75) (22.5497, 7.4547, 0.75) (23.5511, 3.0675, 0.75) (23.5511, -3.0675, 0.75) (22.5497, -7.4547, 0.75) (19.8878, -12.9822, 0.75) (17.0821, -16.5004, 0.75) (12.2856, -20.3255, 0.75) (8.2312, -22.278, 0.75) (2.25, -23.6432, 0.75) (-2.25, -23.6432, 0.75) (-8.2312, -22.278, 0.75) (-12.2856, -20.3255, 0.75) (-17.0821, -16.5004, 0.75) (-19.8878, -12.9822, 0.75)
properties part number "OmniFrame_C"
